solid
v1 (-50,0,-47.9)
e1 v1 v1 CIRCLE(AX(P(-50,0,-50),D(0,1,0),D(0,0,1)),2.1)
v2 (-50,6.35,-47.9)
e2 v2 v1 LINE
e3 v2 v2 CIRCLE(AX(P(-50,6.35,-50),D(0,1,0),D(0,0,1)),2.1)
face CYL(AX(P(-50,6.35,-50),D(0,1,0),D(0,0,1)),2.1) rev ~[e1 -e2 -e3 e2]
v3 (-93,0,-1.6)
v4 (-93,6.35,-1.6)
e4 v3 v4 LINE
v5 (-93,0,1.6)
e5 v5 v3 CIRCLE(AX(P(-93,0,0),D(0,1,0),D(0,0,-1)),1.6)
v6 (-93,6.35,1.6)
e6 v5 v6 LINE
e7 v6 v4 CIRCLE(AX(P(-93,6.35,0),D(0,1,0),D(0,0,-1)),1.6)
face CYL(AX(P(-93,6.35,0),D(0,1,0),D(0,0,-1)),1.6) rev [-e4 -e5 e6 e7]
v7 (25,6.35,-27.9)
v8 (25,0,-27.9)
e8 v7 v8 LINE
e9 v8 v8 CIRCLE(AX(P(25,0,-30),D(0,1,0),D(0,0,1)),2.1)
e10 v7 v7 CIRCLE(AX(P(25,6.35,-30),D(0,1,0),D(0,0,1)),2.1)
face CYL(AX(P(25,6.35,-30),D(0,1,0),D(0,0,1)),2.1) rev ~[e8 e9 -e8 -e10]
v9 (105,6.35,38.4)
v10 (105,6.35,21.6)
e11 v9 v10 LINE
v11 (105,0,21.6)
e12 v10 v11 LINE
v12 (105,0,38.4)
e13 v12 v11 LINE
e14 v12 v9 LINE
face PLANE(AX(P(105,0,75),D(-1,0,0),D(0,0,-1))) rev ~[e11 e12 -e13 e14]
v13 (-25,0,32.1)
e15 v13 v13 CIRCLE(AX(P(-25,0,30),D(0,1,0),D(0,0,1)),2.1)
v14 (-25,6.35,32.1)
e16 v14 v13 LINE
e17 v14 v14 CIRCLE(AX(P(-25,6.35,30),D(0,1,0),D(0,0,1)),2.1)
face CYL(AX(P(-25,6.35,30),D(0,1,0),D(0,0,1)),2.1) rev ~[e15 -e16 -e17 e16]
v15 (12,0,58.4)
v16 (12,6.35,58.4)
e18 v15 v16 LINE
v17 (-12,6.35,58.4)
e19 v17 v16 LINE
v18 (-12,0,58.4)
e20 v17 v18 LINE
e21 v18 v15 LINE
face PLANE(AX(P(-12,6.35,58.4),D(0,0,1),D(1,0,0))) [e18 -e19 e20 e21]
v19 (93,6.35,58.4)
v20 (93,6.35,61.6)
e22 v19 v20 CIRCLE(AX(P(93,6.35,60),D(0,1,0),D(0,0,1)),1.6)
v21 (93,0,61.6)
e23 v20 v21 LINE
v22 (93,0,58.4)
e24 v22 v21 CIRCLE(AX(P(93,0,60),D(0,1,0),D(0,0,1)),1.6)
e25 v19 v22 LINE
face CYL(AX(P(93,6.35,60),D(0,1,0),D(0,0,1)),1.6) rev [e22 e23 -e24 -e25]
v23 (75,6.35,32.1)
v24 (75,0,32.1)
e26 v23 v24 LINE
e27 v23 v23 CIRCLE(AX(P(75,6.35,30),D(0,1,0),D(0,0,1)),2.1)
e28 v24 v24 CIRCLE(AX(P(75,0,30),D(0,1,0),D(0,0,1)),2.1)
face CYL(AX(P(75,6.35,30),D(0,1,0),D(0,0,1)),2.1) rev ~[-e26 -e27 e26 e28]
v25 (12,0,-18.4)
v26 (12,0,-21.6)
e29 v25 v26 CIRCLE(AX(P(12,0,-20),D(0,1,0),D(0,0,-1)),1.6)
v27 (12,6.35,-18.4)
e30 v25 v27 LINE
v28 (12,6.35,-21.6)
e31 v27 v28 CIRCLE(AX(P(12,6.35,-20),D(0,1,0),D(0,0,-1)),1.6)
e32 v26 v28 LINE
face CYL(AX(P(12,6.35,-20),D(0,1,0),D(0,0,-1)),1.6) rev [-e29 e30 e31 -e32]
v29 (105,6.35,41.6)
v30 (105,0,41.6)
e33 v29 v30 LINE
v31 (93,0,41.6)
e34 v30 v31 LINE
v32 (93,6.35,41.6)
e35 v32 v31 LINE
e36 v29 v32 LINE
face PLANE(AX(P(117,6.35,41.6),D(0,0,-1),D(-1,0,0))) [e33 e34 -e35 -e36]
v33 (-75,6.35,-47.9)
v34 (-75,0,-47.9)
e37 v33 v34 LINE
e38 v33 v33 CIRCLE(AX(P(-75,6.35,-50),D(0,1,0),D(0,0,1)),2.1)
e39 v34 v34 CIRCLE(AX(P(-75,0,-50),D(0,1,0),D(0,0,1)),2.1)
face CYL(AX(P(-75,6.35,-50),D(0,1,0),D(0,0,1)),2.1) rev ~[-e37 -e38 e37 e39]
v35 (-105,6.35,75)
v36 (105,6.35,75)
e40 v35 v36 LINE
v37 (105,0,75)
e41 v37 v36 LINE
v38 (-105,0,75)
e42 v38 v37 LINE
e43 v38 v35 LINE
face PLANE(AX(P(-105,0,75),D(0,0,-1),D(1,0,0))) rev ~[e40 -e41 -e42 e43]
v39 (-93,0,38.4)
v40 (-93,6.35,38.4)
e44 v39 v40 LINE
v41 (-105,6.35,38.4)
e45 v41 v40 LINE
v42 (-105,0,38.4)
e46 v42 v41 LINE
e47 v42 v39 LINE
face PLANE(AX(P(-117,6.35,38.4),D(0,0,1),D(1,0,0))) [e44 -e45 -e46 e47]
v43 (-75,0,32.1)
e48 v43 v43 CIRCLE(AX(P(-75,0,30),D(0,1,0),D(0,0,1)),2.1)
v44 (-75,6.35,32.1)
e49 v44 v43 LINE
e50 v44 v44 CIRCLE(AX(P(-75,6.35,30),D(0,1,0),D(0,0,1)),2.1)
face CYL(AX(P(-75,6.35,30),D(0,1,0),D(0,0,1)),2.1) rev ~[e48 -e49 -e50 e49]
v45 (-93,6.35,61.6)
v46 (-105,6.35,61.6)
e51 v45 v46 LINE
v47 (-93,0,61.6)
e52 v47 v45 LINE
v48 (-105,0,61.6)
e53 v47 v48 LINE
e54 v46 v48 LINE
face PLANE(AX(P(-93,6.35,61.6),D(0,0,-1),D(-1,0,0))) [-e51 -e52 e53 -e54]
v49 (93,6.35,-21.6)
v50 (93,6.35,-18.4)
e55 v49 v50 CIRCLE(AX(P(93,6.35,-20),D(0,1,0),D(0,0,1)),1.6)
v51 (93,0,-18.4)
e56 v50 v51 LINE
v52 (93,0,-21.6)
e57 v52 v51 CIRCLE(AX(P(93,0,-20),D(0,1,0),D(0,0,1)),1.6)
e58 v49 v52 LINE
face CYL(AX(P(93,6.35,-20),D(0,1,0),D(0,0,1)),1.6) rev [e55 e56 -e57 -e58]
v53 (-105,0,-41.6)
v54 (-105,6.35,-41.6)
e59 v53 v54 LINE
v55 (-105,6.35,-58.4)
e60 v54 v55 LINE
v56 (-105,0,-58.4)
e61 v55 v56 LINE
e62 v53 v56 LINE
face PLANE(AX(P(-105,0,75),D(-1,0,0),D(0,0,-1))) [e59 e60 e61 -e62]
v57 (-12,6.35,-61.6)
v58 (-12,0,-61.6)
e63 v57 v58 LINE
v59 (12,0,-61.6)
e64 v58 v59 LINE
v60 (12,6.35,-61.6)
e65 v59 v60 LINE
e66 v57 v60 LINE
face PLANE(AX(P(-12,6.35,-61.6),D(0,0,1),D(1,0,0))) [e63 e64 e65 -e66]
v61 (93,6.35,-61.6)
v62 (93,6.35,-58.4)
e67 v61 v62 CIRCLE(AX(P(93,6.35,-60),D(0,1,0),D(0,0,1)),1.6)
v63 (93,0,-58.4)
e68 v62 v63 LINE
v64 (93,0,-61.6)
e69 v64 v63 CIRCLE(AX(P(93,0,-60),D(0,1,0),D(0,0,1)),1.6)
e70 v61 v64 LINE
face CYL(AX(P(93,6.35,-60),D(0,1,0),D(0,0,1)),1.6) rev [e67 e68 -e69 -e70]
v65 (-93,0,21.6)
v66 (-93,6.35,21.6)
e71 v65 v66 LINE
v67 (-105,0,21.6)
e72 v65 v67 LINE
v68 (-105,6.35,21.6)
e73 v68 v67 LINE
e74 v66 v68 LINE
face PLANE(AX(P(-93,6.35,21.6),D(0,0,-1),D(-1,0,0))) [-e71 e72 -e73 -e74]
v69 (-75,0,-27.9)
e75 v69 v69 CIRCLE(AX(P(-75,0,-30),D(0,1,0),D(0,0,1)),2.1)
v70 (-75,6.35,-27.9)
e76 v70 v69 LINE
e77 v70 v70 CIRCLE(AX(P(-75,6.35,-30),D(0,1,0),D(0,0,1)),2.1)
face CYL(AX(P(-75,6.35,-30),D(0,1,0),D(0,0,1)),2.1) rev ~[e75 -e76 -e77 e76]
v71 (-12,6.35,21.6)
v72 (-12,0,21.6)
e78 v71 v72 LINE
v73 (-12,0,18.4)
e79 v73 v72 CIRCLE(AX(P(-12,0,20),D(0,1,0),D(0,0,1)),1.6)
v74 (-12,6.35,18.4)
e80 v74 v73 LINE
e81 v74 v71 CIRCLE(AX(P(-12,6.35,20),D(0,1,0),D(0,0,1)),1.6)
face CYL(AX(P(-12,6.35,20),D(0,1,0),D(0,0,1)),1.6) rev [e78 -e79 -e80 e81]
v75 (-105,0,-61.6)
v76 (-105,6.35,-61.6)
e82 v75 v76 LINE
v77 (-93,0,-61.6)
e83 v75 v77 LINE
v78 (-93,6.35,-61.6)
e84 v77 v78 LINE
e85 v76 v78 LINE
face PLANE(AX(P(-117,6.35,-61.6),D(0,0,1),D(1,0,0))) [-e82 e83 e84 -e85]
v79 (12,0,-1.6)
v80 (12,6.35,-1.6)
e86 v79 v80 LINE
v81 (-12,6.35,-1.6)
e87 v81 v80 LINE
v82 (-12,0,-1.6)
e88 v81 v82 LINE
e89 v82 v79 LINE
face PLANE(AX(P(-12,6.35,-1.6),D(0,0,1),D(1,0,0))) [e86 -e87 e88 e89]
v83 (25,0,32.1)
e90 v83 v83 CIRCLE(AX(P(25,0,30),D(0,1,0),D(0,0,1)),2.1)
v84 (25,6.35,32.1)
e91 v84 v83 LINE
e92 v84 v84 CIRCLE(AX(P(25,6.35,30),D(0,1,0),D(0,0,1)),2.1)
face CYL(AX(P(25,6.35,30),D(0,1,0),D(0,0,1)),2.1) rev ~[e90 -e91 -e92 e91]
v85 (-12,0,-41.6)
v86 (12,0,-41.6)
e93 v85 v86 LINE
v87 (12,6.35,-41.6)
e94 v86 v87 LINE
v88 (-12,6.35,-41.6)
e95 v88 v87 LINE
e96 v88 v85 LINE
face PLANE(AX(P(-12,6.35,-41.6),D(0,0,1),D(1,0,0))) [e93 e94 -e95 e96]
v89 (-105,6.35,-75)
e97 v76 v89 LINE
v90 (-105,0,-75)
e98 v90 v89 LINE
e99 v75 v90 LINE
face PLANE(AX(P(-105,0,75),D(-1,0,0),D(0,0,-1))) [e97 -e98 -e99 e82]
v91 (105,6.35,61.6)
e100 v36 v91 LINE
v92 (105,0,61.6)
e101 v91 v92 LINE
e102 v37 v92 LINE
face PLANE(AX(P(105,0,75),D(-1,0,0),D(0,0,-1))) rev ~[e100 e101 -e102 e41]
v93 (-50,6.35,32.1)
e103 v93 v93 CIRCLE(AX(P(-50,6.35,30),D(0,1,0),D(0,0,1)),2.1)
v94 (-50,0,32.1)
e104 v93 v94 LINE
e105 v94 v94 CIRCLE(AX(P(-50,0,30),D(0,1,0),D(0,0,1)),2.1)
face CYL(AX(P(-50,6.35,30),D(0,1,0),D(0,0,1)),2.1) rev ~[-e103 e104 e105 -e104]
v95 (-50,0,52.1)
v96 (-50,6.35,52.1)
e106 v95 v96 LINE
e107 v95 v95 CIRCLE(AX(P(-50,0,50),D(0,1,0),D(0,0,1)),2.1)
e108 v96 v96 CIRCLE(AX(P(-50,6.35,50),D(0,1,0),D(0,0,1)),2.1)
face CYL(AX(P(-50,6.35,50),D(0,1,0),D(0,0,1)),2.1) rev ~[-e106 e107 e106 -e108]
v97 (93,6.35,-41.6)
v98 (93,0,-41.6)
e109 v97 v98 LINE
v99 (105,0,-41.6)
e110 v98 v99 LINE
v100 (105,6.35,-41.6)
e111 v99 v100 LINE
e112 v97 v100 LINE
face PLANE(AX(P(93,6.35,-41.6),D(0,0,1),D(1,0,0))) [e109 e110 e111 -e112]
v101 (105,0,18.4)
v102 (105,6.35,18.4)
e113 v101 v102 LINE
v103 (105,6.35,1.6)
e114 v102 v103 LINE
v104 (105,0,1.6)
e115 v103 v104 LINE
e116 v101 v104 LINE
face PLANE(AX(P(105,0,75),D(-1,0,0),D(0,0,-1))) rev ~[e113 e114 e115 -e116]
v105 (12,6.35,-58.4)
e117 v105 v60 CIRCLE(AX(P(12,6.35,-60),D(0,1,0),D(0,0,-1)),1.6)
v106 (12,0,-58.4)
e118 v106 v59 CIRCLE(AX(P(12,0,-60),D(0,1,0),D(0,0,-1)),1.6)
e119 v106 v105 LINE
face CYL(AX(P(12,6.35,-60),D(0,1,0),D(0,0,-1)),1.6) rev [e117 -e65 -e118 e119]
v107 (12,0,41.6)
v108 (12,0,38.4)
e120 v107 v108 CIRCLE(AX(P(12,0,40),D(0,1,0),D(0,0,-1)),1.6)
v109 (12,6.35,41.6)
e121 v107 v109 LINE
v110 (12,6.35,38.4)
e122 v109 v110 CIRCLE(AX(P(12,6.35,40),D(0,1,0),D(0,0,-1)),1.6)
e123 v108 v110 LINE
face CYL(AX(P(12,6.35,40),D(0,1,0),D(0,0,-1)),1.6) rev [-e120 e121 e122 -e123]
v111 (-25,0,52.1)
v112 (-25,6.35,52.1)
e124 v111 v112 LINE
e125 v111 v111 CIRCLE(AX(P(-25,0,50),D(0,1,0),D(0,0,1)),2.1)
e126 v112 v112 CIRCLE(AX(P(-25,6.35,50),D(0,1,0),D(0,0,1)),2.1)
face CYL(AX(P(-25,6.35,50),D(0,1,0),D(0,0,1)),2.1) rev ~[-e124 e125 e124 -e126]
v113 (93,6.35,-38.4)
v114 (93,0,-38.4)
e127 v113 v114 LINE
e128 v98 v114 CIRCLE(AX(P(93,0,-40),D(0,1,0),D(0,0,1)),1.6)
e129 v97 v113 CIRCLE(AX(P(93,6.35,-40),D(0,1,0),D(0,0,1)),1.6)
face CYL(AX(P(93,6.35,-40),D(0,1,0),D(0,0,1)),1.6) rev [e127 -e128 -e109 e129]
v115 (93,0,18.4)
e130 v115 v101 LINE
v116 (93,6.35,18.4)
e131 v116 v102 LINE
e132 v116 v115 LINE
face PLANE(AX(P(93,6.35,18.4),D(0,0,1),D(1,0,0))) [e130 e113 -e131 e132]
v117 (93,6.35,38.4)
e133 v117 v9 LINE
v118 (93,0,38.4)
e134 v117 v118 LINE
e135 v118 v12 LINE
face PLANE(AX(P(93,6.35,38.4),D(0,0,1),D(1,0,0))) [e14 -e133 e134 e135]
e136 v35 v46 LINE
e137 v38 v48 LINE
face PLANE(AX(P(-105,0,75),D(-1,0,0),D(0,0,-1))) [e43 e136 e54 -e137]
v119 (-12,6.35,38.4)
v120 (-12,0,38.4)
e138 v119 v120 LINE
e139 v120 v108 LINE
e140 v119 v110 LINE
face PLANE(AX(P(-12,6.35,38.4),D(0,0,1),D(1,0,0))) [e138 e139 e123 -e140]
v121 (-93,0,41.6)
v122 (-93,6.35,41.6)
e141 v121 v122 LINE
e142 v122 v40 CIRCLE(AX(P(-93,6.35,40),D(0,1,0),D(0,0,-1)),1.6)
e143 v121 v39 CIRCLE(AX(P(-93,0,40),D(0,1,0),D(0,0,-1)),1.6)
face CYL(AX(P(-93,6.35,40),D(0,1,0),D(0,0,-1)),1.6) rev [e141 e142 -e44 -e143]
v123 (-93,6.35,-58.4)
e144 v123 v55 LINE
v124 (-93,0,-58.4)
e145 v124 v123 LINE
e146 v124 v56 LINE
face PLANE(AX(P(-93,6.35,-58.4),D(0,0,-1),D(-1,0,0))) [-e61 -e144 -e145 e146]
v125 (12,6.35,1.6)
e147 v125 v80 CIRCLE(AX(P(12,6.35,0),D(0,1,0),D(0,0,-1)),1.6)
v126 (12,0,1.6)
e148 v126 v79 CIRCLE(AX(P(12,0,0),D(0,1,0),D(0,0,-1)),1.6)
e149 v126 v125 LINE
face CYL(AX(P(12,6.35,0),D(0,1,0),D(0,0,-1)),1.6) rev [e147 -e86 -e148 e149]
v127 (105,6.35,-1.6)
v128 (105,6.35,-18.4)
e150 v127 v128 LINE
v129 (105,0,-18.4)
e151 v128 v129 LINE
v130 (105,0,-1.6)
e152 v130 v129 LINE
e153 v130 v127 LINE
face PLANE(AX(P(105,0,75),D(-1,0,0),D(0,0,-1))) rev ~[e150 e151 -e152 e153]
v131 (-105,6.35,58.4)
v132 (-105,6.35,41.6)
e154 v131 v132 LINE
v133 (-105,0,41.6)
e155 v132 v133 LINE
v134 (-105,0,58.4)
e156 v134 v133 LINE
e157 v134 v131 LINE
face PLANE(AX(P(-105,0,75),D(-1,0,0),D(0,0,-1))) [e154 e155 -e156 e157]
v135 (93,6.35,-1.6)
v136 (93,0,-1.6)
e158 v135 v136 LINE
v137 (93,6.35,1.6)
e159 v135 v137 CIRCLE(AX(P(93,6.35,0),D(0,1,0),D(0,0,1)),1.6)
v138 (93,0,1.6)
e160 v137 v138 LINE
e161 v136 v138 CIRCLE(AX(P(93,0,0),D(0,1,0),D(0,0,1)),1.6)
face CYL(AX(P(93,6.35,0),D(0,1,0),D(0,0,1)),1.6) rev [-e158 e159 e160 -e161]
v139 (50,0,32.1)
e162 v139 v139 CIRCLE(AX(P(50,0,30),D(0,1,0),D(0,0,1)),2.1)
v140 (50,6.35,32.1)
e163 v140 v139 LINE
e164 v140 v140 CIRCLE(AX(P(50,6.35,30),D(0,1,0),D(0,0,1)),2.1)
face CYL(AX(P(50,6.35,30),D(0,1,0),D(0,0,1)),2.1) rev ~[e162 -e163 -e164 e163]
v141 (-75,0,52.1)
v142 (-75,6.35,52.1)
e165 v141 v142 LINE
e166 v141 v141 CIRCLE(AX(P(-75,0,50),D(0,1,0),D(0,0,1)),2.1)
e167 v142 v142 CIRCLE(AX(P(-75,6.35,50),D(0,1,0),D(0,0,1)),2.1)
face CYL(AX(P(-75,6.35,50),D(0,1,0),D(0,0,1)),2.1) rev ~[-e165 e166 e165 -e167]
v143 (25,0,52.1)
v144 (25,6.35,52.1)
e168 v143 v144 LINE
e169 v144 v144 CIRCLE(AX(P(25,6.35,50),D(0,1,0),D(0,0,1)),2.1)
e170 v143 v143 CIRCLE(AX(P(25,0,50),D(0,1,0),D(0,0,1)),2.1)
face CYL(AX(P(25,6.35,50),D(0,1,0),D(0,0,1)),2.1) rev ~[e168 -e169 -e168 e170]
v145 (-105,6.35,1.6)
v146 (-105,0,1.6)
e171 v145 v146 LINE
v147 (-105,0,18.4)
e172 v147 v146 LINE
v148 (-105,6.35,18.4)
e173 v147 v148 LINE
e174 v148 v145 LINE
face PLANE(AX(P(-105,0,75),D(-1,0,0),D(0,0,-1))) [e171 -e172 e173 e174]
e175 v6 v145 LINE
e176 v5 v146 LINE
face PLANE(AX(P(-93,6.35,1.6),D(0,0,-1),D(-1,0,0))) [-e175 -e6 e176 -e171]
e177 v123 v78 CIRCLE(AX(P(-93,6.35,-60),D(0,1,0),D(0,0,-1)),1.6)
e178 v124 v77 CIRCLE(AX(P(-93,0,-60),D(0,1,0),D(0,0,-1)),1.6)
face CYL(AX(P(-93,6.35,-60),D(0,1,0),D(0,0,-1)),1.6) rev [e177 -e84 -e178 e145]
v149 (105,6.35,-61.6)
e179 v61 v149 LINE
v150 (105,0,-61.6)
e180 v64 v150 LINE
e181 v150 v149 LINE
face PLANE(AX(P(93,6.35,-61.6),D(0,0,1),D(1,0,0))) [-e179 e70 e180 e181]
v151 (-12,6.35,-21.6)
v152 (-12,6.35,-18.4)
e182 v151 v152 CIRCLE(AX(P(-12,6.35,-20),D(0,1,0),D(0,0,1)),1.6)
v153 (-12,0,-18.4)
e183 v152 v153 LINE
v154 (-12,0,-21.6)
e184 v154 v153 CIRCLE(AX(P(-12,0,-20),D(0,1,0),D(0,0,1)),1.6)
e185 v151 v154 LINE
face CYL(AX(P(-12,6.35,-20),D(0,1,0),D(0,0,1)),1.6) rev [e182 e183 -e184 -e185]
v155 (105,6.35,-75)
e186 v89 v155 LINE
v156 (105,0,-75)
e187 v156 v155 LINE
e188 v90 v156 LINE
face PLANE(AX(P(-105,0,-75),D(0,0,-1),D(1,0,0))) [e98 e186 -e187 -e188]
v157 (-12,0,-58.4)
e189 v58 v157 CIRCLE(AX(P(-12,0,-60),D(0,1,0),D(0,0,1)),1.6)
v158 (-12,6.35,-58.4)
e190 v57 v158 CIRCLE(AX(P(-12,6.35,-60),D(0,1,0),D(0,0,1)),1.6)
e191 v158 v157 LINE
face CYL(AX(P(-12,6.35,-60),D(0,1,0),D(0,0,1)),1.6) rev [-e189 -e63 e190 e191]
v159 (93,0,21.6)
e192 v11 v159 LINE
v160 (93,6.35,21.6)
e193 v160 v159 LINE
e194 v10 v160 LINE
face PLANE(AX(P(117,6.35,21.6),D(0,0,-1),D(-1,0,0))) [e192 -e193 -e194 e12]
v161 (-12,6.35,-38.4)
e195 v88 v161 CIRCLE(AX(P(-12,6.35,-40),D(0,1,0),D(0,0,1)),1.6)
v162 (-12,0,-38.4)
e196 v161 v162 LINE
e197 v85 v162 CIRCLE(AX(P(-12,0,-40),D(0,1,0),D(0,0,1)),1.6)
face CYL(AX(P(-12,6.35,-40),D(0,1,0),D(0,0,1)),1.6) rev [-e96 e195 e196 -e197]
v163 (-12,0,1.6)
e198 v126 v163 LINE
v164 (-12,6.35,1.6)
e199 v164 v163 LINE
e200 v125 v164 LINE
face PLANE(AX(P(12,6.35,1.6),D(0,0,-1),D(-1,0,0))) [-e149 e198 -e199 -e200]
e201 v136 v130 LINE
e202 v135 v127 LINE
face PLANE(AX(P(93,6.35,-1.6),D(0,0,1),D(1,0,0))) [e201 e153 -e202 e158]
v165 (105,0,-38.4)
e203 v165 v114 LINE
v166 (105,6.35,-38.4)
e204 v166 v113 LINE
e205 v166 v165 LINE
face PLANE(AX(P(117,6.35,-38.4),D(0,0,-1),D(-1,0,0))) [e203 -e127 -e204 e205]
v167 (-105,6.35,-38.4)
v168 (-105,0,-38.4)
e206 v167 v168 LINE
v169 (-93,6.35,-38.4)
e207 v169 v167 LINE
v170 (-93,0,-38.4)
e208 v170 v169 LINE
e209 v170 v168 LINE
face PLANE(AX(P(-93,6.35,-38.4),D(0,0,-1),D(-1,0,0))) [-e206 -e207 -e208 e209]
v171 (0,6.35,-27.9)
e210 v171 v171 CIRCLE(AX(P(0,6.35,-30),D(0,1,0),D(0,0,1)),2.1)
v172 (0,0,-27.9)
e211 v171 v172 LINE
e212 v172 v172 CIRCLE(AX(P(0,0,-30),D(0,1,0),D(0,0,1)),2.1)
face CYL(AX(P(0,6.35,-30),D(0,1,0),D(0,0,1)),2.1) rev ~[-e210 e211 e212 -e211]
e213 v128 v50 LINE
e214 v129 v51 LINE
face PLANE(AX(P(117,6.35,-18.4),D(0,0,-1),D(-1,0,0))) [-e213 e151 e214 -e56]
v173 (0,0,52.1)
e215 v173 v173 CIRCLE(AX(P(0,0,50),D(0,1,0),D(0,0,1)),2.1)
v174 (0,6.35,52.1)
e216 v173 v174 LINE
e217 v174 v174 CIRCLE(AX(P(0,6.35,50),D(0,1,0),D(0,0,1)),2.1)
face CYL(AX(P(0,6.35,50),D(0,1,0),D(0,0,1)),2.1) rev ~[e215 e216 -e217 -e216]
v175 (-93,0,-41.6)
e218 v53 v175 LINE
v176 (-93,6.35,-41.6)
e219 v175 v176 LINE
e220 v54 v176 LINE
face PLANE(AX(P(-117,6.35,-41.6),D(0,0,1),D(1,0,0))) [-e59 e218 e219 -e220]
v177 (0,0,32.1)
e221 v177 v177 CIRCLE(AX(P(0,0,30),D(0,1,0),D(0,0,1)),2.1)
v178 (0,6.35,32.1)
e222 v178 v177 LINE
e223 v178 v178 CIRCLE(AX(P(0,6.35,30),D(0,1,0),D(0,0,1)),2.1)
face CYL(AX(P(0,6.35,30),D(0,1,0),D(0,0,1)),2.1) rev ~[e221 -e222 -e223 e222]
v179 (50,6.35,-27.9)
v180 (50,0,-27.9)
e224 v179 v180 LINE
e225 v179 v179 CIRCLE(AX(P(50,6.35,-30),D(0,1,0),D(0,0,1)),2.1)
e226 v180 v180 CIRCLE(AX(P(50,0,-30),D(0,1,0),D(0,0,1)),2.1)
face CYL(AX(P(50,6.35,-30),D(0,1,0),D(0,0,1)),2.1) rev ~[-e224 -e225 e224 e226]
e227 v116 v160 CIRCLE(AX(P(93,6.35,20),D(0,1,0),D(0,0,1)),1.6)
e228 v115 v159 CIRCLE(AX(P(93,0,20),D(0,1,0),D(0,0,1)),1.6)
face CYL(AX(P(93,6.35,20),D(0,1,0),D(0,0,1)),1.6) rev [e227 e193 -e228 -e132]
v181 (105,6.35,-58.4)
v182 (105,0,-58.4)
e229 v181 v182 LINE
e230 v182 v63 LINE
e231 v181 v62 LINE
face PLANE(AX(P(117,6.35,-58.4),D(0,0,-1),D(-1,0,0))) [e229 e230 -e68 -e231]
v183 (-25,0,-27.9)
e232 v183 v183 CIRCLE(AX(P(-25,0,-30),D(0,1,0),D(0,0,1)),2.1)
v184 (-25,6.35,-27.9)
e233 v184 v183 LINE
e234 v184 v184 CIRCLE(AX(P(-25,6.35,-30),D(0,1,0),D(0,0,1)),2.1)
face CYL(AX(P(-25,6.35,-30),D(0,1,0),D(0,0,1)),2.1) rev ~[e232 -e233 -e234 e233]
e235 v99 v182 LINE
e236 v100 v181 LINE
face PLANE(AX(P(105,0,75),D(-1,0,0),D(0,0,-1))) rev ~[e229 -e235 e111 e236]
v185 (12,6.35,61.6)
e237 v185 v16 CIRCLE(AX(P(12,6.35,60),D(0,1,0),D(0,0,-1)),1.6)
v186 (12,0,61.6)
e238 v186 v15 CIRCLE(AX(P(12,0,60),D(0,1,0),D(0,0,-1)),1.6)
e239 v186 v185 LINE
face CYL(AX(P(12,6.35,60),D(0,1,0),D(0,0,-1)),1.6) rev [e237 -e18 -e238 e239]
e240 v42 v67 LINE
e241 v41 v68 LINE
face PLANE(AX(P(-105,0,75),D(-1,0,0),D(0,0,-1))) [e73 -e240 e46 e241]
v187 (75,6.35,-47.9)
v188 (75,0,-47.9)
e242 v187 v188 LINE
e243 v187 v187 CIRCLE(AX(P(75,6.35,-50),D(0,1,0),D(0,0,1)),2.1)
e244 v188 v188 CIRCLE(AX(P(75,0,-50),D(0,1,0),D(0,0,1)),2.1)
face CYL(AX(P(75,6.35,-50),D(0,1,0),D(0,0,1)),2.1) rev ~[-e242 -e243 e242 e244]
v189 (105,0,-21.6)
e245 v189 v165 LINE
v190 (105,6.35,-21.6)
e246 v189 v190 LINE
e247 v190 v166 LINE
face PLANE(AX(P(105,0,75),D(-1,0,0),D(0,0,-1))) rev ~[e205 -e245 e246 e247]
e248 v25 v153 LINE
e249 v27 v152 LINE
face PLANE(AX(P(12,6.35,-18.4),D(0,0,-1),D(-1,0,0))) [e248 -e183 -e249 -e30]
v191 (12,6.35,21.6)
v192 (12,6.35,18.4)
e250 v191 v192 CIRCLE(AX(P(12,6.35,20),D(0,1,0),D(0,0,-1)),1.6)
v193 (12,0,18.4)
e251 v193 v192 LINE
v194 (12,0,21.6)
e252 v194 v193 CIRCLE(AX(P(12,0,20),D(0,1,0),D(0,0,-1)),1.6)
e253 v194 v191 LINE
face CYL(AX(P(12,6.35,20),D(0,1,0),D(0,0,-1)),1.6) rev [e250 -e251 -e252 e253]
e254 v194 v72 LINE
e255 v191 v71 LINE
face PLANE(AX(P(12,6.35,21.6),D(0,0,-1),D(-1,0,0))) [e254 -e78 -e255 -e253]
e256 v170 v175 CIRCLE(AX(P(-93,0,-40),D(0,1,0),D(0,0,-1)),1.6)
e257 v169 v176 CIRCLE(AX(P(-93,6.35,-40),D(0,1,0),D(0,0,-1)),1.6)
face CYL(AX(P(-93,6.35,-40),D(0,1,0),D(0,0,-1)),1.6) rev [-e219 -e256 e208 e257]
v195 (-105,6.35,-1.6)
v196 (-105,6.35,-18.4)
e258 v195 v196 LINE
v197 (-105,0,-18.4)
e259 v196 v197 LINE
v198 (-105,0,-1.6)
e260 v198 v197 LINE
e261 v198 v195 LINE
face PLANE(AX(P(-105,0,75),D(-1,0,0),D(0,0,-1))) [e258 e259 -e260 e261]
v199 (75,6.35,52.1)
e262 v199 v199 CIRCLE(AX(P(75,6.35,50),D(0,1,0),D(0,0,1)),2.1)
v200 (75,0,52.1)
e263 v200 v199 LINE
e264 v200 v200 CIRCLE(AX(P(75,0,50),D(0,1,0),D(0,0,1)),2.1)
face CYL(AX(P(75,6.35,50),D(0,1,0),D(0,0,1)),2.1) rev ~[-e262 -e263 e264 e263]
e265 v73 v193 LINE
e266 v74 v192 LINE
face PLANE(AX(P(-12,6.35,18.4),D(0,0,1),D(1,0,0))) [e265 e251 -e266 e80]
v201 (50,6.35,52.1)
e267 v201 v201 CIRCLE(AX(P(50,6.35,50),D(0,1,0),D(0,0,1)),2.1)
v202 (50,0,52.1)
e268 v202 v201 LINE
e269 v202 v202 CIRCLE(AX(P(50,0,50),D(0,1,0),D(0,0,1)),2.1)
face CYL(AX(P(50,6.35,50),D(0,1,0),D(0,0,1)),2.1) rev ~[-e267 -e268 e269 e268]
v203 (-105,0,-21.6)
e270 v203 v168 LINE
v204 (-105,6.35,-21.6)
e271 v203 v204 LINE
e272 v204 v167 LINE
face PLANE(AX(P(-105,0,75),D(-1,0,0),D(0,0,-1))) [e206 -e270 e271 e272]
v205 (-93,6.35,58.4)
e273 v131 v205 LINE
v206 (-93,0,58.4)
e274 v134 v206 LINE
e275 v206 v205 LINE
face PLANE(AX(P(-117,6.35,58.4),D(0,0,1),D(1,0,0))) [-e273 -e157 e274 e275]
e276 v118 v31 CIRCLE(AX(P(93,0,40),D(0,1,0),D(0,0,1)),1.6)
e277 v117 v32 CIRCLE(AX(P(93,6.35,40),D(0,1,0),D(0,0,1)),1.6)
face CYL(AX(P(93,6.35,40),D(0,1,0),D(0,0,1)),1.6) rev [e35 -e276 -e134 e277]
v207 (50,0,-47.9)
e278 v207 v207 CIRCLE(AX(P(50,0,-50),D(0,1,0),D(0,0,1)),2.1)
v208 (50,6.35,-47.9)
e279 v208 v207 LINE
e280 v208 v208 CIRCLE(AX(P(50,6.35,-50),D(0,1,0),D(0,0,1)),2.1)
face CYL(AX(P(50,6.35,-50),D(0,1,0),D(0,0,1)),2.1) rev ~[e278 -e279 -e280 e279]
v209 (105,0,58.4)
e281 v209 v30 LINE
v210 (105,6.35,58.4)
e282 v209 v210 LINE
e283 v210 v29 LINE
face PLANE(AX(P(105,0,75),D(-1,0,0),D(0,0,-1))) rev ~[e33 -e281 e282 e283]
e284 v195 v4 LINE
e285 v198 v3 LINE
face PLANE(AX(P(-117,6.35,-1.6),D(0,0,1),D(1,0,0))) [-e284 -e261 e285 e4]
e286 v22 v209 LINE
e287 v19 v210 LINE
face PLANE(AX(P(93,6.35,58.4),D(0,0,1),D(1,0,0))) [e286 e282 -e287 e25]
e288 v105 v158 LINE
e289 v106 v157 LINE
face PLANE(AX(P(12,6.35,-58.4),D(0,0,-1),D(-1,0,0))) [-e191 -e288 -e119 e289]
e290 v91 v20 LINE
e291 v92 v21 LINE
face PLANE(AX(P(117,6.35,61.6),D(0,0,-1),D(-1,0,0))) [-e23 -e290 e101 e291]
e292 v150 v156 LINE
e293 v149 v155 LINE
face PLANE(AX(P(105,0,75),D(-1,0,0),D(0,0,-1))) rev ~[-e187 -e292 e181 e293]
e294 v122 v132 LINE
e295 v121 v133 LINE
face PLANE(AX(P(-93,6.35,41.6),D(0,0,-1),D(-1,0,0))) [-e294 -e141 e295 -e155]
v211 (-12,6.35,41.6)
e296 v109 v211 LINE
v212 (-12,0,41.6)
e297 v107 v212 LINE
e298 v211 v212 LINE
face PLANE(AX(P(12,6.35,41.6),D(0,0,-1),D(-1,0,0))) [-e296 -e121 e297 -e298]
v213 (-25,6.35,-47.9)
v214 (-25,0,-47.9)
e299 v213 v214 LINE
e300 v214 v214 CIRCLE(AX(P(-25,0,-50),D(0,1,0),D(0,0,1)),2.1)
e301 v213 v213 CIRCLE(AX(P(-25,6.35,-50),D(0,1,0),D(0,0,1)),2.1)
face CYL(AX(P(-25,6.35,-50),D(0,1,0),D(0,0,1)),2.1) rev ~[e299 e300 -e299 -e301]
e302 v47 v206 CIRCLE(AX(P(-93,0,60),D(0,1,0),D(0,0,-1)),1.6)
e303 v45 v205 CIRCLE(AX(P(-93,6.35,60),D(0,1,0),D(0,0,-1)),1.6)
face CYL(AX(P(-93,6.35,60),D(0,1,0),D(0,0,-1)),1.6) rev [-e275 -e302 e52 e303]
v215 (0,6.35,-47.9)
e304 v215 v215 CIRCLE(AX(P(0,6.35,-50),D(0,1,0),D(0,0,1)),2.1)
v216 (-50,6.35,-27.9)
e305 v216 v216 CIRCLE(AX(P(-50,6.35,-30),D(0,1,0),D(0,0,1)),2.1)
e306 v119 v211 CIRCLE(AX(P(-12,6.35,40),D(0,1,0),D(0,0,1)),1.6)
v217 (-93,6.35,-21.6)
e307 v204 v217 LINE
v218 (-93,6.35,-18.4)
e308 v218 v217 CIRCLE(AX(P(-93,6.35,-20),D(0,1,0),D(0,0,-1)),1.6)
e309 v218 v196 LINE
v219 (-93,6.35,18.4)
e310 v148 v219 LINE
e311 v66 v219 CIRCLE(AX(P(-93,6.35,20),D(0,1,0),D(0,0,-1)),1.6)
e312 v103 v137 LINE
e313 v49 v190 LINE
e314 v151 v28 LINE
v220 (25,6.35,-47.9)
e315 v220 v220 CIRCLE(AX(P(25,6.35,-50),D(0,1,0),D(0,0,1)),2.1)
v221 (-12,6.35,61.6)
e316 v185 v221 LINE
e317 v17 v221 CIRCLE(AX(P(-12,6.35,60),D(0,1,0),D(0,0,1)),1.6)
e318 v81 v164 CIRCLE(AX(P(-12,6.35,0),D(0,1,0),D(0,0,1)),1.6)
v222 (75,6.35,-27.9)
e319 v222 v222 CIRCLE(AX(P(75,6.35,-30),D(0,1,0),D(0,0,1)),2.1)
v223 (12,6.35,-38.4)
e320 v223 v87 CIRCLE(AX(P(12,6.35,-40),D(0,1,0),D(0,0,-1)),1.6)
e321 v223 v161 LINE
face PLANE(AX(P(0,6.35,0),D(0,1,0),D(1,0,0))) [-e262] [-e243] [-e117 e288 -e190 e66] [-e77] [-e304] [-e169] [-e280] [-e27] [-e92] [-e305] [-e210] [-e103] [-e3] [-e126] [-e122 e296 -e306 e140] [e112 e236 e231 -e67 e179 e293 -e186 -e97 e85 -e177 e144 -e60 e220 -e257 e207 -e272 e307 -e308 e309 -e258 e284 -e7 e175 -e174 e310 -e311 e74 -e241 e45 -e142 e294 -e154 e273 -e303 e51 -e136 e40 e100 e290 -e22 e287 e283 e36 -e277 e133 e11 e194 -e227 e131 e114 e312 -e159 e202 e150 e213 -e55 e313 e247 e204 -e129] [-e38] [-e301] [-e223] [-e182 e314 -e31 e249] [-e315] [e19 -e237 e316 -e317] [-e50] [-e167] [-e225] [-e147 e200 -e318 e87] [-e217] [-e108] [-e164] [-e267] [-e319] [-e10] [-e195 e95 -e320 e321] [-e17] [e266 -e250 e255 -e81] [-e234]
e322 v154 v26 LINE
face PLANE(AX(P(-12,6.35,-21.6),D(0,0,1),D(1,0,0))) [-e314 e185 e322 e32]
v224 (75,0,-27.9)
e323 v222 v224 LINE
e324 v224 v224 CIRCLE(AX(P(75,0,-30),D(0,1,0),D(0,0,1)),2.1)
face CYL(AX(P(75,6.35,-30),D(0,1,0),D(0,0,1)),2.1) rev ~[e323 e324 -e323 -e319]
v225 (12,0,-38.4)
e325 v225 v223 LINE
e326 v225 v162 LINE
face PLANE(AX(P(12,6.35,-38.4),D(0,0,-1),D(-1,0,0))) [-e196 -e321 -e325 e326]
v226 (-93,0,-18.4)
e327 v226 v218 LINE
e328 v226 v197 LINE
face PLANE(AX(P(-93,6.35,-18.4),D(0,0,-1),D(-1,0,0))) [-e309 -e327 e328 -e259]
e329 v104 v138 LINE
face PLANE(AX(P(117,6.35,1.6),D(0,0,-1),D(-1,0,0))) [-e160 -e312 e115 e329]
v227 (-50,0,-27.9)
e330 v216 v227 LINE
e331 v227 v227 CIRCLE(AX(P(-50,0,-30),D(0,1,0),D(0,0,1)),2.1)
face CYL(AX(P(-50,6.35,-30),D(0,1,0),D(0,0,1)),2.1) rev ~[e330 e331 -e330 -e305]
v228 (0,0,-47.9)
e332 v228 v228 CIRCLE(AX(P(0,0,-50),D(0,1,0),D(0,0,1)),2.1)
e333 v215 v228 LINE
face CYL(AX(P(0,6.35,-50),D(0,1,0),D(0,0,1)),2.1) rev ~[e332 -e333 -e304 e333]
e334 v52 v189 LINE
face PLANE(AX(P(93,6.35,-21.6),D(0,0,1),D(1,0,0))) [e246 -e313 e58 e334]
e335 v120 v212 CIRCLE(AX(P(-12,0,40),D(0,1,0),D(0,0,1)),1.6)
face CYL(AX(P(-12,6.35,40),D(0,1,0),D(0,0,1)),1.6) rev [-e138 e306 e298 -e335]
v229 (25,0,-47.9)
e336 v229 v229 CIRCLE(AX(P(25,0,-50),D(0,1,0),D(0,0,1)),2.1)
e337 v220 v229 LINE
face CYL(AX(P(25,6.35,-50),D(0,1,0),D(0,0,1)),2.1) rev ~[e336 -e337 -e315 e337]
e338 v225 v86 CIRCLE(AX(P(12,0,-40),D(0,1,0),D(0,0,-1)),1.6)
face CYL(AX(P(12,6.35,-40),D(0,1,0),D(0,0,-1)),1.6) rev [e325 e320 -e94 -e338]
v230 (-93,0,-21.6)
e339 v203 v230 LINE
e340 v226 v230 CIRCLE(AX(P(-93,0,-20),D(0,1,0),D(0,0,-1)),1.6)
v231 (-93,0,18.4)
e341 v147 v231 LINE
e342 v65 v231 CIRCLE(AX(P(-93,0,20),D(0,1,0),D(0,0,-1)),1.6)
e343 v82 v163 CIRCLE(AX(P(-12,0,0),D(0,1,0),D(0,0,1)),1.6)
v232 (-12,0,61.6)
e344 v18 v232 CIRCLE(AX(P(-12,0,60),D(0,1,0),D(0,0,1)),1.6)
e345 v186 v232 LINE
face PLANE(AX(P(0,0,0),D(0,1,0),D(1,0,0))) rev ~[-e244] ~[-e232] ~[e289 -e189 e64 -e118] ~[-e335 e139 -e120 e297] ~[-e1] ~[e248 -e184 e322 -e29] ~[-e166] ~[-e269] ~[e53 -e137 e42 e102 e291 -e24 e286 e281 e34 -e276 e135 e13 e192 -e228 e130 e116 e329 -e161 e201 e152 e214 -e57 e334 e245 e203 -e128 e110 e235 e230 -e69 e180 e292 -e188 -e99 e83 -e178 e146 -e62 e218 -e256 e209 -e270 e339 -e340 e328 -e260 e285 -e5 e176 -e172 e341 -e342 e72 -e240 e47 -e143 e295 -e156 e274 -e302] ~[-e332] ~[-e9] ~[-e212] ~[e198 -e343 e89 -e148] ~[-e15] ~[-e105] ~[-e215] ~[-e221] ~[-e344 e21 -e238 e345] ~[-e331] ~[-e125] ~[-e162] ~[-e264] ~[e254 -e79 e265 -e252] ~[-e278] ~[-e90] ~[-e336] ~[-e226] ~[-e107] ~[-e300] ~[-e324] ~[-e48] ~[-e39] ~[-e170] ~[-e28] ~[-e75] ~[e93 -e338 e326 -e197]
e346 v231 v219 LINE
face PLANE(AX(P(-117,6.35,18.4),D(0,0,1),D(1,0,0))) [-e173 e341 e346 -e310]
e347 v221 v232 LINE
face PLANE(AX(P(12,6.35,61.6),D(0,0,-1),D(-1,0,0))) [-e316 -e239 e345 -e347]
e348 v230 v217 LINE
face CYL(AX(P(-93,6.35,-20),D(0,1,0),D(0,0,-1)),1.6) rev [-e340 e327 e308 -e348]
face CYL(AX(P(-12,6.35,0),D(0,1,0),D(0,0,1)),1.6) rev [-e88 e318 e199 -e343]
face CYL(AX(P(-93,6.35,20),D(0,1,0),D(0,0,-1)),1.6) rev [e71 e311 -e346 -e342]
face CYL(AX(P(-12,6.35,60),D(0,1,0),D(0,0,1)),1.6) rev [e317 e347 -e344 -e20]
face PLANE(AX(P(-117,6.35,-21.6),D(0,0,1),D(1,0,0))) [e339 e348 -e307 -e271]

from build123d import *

# Parameters (mm, degrees)
SKETCH1_W                  = 210
SKETCH1_H                  = 150
BOSS_EXTRUDE1_DEPTH        = 6.35
CUT_EXTRUDE1_DEPTH         = 130.191031035
LPATTERN1_COUNT            = 4
LPATTERN1_PITCH            = 20
LPATTERN1_COL_COUNT        = 4
LPATTERN1_COL_PITCH        = 20
LPATTERN2_COUNT            = 2
LPATTERN2_PITCH            = 105
LPATTERN2_COPY_1_DEPTH     = 130.191031035
LPATTERN2_COPY_2_DEPTH     = 130.191031035
LPATTERN2_COPY_3_DEPTH     = 130.191031035
LPATTERN2_COPY_4_DEPTH     = 130.191031035
LPATTERN2_COPY_5_DEPTH     = 130.191031035
LPATTERN2_COPY_6_DEPTH     = 130.191031035
LPATTERN2_COL_COUNT        = 2
LPATTERN2_COL_PITCH        = 105
LPATTERN2_COL_COPY_1_DEPTH = 130.191031035
LPATTERN2_COL_COPY_2_DEPTH = 130.191031035
LPATTERN2_COL_COPY_3_DEPTH = 130.191031035
LPATTERN2_COL_COPY_4_DEPTH = 130.191031035
LPATTERN2_COL_COPY_5_DEPTH = 130.191031035
LPATTERN2_COL_COPY_6_DEPTH = 130.191031035
SKETCH4_R                  = 2.1
CUT_EXTRUDE2_DEPTH         = 130.191031035
LPATTERN3_COUNT            = 4
LPATTERN3_PITCH            = 25
LPATTERN3_COL_COUNT        = 4
LPATTERN3_COL_PITCH        = 25


with BuildPart() as part:
    # Sketch1 → Boss-Extrude1 (new body)
    with BuildSketch(Plane(origin=(0, 0, 0), x_dir=(1, 0, 0), z_dir=(0, 1, 0))):
        Rectangle(SKETCH1_W, SKETCH1_H)
    extrude(amount=BOSS_EXTRUDE1_DEPTH)

    # Sketch3 → Cut-Extrude1 (cut, symmetric)
    with BuildSketch(Plane(origin=(0, 6.35, 0), x_dir=(1, 0, 0), z_dir=(0, 1, 0))):
        with BuildLine():
            Line((12, -1.6), (-12, -1.6))
            ThreePointArc((-12, -1.6), (-13.6, 0), (-12, 1.6))
            Line((-12, 1.6), (12, 1.6))
            ThreePointArc((12, 1.6), (13.6, 0), (12, -1.6))
        make_face()
    cut_extrude1 = extrude(amount=CUT_EXTRUDE1_DEPTH, both=True, mode=Mode.SUBTRACT)

    # LPattern1: Cut-Extrude1 ×4
    with Locations(*[(0, 0, i * LPATTERN1_PITCH) for i in range(1, LPATTERN1_COUNT)]):
        add(cut_extrude1, mode=Mode.SUBTRACT)

    # LPattern1 col: Cut-Extrude1 ×4
    with Locations(*[(0, 0, -i * LPATTERN1_COL_PITCH) for i in range(1, LPATTERN1_COL_COUNT)]):
        add(cut_extrude1, mode=Mode.SUBTRACT)

    # LPattern2: Cut-Extrude1 ×2
    with Locations(*[(i * LPATTERN2_PITCH, 0, 0) for i in range(1, LPATTERN2_COUNT)]):
        add(cut_extrude1, mode=Mode.SUBTRACT)

    # LPattern2 copy 1 sketch → LPattern2 copy 1 (cut, symmetric)
    with BuildSketch(Plane(origin=(105, 6.35, 20), x_dir=(1, 0, 0), z_dir=(0, 1, 0))):
        with BuildLine():
            Line((12, -1.6), (-12, -1.6))
            ThreePointArc((-12, -1.6), (-13.6, 0), (-12, 1.6))
            Line((-12, 1.6), (12, 1.6))
            ThreePointArc((12, 1.6), (13.6, 0), (12, -1.6))
        make_face()
    extrude(amount=LPATTERN2_COPY_1_DEPTH, both=True, mode=Mode.SUBTRACT)

    # LPattern2 copy 2 sketch → LPattern2 copy 2 (cut, symmetric)
    with BuildSketch(Plane(origin=(105, 6.35, 40), x_dir=(1, 0, 0), z_dir=(0, 1, 0))):
        with BuildLine():
            Line((12, -1.6), (-12, -1.6))
            ThreePointArc((-12, -1.6), (-13.6, 0), (-12, 1.6))
            Line((-12, 1.6), (12, 1.6))
            ThreePointArc((12, 1.6), (13.6, 0), (12, -1.6))
        make_face()
    extrude(amount=LPATTERN2_COPY_2_DEPTH, both=True, mode=Mode.SUBTRACT)

    # LPattern2 copy 3 sketch → LPattern2 copy 3 (cut, symmetric)
    with BuildSketch(Plane(origin=(105, 6.35, 60), x_dir=(1, 0, 0), z_dir=(0, 1, 0))):
        with BuildLine():
            Line((12, -1.6), (-12, -1.6))
            ThreePointArc((-12, -1.6), (-13.6, 0), (-12, 1.6))
            Line((-12, 1.6), (12, 1.6))
            ThreePointArc((12, 1.6), (13.6, 0), (12, -1.6))
        make_face()
    extrude(amount=LPATTERN2_COPY_3_DEPTH, both=True, mode=Mode.SUBTRACT)

    # LPattern2 copy 4 sketch → LPattern2 copy 4 (cut, symmetric)
    with BuildSketch(Plane(origin=(105, 6.35, -20), x_dir=(1, 0, 0), z_dir=(0, 1, 0))):
        with BuildLine():
            Line((12, -1.6), (-12, -1.6))
            ThreePointArc((-12, -1.6), (-13.6, 0), (-12, 1.6))
            Line((-12, 1.6), (12, 1.6))
            ThreePointArc((12, 1.6), (13.6, 0), (12, -1.6))
        make_face()
    extrude(amount=LPATTERN2_COPY_4_DEPTH, both=True, mode=Mode.SUBTRACT)

    # LPattern2 copy 5 sketch → LPattern2 copy 5 (cut, symmetric)
    with BuildSketch(Plane(origin=(105, 6.35, -40), x_dir=(1, 0, 0), z_dir=(0, 1, 0))):
        with BuildLine():
            Line((12, -1.6), (-12, -1.6))
            ThreePointArc((-12, -1.6), (-13.6, 0), (-12, 1.6))
            Line((-12, 1.6), (12, 1.6))
            ThreePointArc((12, 1.6), (13.6, 0), (12, -1.6))
        make_face()
    extrude(amount=LPATTERN2_COPY_5_DEPTH, both=True, mode=Mode.SUBTRACT)

    # LPattern2 copy 6 sketch → LPattern2 copy 6 (cut, symmetric)
    with BuildSketch(Plane(origin=(105, 6.35, -60), x_dir=(1, 0, 0), z_dir=(0, 1, 0))):
        with BuildLine():
            Line((12, -1.6), (-12, -1.6))
            ThreePointArc((-12, -1.6), (-13.6, 0), (-12, 1.6))
            Line((-12, 1.6), (12, 1.6))
            ThreePointArc((12, 1.6), (13.6, 0), (12, -1.6))
        make_face()
    extrude(amount=LPATTERN2_COPY_6_DEPTH, both=True, mode=Mode.SUBTRACT)

    # LPattern2 col: Cut-Extrude1 ×2
    with Locations(*[(-i * LPATTERN2_COL_PITCH, 0, 0) for i in range(1, LPATTERN2_COL_COUNT)]):
        add(cut_extrude1, mode=Mode.SUBTRACT)

    # LPattern2 col copy 1 sketch → LPattern2 col copy 1 (cut, symmetric)
    with BuildSketch(Plane(origin=(-105, 6.35, 20), x_dir=(1, 0, 0), z_dir=(0, 1, 0))):
        with BuildLine():
            Line((12, -1.6), (-12, -1.6))
            ThreePointArc((-12, -1.6), (-13.6, 0), (-12, 1.6))
            Line((-12, 1.6), (12, 1.6))
            ThreePointArc((12, 1.6), (13.6, 0), (12, -1.6))
        make_face()
    extrude(amount=LPATTERN2_COL_COPY_1_DEPTH, both=True, mode=Mode.SUBTRACT)

    # LPattern2 col copy 2 sketch → LPattern2 col copy 2 (cut, symmetric)
    with BuildSketch(Plane(origin=(-105, 6.35, 40), x_dir=(1, 0, 0), z_dir=(0, 1, 0))):
        with BuildLine():
            Line((12, -1.6), (-12, -1.6))
            ThreePointArc((-12, -1.6), (-13.6, 0), (-12, 1.6))
            Line((-12, 1.6), (12, 1.6))
            ThreePointArc((12, 1.6), (13.6, 0), (12, -1.6))
        make_face()
    extrude(amount=LPATTERN2_COL_COPY_2_DEPTH, both=True, mode=Mode.SUBTRACT)

    # LPattern2 col copy 3 sketch → LPattern2 col copy 3 (cut, symmetric)
    with BuildSketch(Plane(origin=(-105, 6.35, 60), x_dir=(1, 0, 0), z_dir=(0, 1, 0))):
        with BuildLine():
            Line((12, -1.6), (-12, -1.6))
            ThreePointArc((-12, -1.6), (-13.6, 0), (-12, 1.6))
            Line((-12, 1.6), (12, 1.6))
            ThreePointArc((12, 1.6), (13.6, 0), (12, -1.6))
        make_face()
    extrude(amount=LPATTERN2_COL_COPY_3_DEPTH, both=True, mode=Mode.SUBTRACT)

    # LPattern2 col copy 4 sketch → LPattern2 col copy 4 (cut, symmetric)
    with BuildSketch(Plane(origin=(-105, 6.35, -20), x_dir=(1, 0, 0), z_dir=(0, 1, 0))):
        with BuildLine():
            Line((12, -1.6), (-12, -1.6))
            ThreePointArc((-12, -1.6), (-13.6, 0), (-12, 1.6))
            Line((-12, 1.6), (12, 1.6))
            ThreePointArc((12, 1.6), (13.6, 0), (12, -1.6))
        make_face()
    extrude(amount=LPATTERN2_COL_COPY_4_DEPTH, both=True, mode=Mode.SUBTRACT)

    # LPattern2 col copy 5 sketch → LPattern2 col copy 5 (cut, symmetric)
    with BuildSketch(Plane(origin=(-105, 6.35, -40), x_dir=(1, 0, 0), z_dir=(0, 1, 0))):
        with BuildLine():
            Line((12, -1.6), (-12, -1.6))
            ThreePointArc((-12, -1.6), (-13.6, 0), (-12, 1.6))
            Line((-12, 1.6), (12, 1.6))
            ThreePointArc((12, 1.6), (13.6, 0), (12, -1.6))
        make_face()
    extrude(amount=LPATTERN2_COL_COPY_5_DEPTH, both=True, mode=Mode.SUBTRACT)

    # LPattern2 col copy 6 sketch → LPattern2 col copy 6 (cut, symmetric)
    with BuildSketch(Plane(origin=(-105, 6.35, -60), x_dir=(1, 0, 0), z_dir=(0, 1, 0))):
        with BuildLine():
            Line((12, -1.6), (-12, -1.6))
            ThreePointArc((-12, -1.6), (-13.6, 0), (-12, 1.6))
            Line((-12, 1.6), (12, 1.6))
            ThreePointArc((12, 1.6), (13.6, 0), (12, -1.6))
        make_face()
    extrude(amount=LPATTERN2_COL_COPY_6_DEPTH, both=True, mode=Mode.SUBTRACT)

    # Sketch4 → Cut-Extrude2 (cut, symmetric)
    with BuildSketch(Plane(origin=(0, 6.35, 0), x_dir=(1, 0, 0), z_dir=(0, 1, 0))):
        with Locations(Location((0, 30, 0), (0, 0, 270))):
            Circle(SKETCH4_R)
        with Locations(Location((0, -30, 0), (0, 0, 270))):
            Circle(SKETCH4_R)
        with Locations(Location((0, 50, 0), (0, 0, 270))):
            Circle(SKETCH4_R)
        with Locations(Location((0, -50, 0), (0, 0, 270))):
            Circle(SKETCH4_R)
    cut_extrude2 = extrude(amount=CUT_EXTRUDE2_DEPTH, both=True, mode=Mode.SUBTRACT)

    # LPattern3: Cut-Extrude2 ×4
    with Locations(*[(i * LPATTERN3_PITCH, 0, 0) for i in range(1, LPATTERN3_COUNT)]):
        add(cut_extrude2, mode=Mode.SUBTRACT)

    # LPattern3 col: Cut-Extrude2 ×4
    with Locations(*[(-i * LPATTERN3_COL_PITCH, 0, 0) for i in range(1, LPATTERN3_COL_COUNT)]):
        add(cut_extrude2, mode=Mode.SUBTRACT)


solid = part.part
